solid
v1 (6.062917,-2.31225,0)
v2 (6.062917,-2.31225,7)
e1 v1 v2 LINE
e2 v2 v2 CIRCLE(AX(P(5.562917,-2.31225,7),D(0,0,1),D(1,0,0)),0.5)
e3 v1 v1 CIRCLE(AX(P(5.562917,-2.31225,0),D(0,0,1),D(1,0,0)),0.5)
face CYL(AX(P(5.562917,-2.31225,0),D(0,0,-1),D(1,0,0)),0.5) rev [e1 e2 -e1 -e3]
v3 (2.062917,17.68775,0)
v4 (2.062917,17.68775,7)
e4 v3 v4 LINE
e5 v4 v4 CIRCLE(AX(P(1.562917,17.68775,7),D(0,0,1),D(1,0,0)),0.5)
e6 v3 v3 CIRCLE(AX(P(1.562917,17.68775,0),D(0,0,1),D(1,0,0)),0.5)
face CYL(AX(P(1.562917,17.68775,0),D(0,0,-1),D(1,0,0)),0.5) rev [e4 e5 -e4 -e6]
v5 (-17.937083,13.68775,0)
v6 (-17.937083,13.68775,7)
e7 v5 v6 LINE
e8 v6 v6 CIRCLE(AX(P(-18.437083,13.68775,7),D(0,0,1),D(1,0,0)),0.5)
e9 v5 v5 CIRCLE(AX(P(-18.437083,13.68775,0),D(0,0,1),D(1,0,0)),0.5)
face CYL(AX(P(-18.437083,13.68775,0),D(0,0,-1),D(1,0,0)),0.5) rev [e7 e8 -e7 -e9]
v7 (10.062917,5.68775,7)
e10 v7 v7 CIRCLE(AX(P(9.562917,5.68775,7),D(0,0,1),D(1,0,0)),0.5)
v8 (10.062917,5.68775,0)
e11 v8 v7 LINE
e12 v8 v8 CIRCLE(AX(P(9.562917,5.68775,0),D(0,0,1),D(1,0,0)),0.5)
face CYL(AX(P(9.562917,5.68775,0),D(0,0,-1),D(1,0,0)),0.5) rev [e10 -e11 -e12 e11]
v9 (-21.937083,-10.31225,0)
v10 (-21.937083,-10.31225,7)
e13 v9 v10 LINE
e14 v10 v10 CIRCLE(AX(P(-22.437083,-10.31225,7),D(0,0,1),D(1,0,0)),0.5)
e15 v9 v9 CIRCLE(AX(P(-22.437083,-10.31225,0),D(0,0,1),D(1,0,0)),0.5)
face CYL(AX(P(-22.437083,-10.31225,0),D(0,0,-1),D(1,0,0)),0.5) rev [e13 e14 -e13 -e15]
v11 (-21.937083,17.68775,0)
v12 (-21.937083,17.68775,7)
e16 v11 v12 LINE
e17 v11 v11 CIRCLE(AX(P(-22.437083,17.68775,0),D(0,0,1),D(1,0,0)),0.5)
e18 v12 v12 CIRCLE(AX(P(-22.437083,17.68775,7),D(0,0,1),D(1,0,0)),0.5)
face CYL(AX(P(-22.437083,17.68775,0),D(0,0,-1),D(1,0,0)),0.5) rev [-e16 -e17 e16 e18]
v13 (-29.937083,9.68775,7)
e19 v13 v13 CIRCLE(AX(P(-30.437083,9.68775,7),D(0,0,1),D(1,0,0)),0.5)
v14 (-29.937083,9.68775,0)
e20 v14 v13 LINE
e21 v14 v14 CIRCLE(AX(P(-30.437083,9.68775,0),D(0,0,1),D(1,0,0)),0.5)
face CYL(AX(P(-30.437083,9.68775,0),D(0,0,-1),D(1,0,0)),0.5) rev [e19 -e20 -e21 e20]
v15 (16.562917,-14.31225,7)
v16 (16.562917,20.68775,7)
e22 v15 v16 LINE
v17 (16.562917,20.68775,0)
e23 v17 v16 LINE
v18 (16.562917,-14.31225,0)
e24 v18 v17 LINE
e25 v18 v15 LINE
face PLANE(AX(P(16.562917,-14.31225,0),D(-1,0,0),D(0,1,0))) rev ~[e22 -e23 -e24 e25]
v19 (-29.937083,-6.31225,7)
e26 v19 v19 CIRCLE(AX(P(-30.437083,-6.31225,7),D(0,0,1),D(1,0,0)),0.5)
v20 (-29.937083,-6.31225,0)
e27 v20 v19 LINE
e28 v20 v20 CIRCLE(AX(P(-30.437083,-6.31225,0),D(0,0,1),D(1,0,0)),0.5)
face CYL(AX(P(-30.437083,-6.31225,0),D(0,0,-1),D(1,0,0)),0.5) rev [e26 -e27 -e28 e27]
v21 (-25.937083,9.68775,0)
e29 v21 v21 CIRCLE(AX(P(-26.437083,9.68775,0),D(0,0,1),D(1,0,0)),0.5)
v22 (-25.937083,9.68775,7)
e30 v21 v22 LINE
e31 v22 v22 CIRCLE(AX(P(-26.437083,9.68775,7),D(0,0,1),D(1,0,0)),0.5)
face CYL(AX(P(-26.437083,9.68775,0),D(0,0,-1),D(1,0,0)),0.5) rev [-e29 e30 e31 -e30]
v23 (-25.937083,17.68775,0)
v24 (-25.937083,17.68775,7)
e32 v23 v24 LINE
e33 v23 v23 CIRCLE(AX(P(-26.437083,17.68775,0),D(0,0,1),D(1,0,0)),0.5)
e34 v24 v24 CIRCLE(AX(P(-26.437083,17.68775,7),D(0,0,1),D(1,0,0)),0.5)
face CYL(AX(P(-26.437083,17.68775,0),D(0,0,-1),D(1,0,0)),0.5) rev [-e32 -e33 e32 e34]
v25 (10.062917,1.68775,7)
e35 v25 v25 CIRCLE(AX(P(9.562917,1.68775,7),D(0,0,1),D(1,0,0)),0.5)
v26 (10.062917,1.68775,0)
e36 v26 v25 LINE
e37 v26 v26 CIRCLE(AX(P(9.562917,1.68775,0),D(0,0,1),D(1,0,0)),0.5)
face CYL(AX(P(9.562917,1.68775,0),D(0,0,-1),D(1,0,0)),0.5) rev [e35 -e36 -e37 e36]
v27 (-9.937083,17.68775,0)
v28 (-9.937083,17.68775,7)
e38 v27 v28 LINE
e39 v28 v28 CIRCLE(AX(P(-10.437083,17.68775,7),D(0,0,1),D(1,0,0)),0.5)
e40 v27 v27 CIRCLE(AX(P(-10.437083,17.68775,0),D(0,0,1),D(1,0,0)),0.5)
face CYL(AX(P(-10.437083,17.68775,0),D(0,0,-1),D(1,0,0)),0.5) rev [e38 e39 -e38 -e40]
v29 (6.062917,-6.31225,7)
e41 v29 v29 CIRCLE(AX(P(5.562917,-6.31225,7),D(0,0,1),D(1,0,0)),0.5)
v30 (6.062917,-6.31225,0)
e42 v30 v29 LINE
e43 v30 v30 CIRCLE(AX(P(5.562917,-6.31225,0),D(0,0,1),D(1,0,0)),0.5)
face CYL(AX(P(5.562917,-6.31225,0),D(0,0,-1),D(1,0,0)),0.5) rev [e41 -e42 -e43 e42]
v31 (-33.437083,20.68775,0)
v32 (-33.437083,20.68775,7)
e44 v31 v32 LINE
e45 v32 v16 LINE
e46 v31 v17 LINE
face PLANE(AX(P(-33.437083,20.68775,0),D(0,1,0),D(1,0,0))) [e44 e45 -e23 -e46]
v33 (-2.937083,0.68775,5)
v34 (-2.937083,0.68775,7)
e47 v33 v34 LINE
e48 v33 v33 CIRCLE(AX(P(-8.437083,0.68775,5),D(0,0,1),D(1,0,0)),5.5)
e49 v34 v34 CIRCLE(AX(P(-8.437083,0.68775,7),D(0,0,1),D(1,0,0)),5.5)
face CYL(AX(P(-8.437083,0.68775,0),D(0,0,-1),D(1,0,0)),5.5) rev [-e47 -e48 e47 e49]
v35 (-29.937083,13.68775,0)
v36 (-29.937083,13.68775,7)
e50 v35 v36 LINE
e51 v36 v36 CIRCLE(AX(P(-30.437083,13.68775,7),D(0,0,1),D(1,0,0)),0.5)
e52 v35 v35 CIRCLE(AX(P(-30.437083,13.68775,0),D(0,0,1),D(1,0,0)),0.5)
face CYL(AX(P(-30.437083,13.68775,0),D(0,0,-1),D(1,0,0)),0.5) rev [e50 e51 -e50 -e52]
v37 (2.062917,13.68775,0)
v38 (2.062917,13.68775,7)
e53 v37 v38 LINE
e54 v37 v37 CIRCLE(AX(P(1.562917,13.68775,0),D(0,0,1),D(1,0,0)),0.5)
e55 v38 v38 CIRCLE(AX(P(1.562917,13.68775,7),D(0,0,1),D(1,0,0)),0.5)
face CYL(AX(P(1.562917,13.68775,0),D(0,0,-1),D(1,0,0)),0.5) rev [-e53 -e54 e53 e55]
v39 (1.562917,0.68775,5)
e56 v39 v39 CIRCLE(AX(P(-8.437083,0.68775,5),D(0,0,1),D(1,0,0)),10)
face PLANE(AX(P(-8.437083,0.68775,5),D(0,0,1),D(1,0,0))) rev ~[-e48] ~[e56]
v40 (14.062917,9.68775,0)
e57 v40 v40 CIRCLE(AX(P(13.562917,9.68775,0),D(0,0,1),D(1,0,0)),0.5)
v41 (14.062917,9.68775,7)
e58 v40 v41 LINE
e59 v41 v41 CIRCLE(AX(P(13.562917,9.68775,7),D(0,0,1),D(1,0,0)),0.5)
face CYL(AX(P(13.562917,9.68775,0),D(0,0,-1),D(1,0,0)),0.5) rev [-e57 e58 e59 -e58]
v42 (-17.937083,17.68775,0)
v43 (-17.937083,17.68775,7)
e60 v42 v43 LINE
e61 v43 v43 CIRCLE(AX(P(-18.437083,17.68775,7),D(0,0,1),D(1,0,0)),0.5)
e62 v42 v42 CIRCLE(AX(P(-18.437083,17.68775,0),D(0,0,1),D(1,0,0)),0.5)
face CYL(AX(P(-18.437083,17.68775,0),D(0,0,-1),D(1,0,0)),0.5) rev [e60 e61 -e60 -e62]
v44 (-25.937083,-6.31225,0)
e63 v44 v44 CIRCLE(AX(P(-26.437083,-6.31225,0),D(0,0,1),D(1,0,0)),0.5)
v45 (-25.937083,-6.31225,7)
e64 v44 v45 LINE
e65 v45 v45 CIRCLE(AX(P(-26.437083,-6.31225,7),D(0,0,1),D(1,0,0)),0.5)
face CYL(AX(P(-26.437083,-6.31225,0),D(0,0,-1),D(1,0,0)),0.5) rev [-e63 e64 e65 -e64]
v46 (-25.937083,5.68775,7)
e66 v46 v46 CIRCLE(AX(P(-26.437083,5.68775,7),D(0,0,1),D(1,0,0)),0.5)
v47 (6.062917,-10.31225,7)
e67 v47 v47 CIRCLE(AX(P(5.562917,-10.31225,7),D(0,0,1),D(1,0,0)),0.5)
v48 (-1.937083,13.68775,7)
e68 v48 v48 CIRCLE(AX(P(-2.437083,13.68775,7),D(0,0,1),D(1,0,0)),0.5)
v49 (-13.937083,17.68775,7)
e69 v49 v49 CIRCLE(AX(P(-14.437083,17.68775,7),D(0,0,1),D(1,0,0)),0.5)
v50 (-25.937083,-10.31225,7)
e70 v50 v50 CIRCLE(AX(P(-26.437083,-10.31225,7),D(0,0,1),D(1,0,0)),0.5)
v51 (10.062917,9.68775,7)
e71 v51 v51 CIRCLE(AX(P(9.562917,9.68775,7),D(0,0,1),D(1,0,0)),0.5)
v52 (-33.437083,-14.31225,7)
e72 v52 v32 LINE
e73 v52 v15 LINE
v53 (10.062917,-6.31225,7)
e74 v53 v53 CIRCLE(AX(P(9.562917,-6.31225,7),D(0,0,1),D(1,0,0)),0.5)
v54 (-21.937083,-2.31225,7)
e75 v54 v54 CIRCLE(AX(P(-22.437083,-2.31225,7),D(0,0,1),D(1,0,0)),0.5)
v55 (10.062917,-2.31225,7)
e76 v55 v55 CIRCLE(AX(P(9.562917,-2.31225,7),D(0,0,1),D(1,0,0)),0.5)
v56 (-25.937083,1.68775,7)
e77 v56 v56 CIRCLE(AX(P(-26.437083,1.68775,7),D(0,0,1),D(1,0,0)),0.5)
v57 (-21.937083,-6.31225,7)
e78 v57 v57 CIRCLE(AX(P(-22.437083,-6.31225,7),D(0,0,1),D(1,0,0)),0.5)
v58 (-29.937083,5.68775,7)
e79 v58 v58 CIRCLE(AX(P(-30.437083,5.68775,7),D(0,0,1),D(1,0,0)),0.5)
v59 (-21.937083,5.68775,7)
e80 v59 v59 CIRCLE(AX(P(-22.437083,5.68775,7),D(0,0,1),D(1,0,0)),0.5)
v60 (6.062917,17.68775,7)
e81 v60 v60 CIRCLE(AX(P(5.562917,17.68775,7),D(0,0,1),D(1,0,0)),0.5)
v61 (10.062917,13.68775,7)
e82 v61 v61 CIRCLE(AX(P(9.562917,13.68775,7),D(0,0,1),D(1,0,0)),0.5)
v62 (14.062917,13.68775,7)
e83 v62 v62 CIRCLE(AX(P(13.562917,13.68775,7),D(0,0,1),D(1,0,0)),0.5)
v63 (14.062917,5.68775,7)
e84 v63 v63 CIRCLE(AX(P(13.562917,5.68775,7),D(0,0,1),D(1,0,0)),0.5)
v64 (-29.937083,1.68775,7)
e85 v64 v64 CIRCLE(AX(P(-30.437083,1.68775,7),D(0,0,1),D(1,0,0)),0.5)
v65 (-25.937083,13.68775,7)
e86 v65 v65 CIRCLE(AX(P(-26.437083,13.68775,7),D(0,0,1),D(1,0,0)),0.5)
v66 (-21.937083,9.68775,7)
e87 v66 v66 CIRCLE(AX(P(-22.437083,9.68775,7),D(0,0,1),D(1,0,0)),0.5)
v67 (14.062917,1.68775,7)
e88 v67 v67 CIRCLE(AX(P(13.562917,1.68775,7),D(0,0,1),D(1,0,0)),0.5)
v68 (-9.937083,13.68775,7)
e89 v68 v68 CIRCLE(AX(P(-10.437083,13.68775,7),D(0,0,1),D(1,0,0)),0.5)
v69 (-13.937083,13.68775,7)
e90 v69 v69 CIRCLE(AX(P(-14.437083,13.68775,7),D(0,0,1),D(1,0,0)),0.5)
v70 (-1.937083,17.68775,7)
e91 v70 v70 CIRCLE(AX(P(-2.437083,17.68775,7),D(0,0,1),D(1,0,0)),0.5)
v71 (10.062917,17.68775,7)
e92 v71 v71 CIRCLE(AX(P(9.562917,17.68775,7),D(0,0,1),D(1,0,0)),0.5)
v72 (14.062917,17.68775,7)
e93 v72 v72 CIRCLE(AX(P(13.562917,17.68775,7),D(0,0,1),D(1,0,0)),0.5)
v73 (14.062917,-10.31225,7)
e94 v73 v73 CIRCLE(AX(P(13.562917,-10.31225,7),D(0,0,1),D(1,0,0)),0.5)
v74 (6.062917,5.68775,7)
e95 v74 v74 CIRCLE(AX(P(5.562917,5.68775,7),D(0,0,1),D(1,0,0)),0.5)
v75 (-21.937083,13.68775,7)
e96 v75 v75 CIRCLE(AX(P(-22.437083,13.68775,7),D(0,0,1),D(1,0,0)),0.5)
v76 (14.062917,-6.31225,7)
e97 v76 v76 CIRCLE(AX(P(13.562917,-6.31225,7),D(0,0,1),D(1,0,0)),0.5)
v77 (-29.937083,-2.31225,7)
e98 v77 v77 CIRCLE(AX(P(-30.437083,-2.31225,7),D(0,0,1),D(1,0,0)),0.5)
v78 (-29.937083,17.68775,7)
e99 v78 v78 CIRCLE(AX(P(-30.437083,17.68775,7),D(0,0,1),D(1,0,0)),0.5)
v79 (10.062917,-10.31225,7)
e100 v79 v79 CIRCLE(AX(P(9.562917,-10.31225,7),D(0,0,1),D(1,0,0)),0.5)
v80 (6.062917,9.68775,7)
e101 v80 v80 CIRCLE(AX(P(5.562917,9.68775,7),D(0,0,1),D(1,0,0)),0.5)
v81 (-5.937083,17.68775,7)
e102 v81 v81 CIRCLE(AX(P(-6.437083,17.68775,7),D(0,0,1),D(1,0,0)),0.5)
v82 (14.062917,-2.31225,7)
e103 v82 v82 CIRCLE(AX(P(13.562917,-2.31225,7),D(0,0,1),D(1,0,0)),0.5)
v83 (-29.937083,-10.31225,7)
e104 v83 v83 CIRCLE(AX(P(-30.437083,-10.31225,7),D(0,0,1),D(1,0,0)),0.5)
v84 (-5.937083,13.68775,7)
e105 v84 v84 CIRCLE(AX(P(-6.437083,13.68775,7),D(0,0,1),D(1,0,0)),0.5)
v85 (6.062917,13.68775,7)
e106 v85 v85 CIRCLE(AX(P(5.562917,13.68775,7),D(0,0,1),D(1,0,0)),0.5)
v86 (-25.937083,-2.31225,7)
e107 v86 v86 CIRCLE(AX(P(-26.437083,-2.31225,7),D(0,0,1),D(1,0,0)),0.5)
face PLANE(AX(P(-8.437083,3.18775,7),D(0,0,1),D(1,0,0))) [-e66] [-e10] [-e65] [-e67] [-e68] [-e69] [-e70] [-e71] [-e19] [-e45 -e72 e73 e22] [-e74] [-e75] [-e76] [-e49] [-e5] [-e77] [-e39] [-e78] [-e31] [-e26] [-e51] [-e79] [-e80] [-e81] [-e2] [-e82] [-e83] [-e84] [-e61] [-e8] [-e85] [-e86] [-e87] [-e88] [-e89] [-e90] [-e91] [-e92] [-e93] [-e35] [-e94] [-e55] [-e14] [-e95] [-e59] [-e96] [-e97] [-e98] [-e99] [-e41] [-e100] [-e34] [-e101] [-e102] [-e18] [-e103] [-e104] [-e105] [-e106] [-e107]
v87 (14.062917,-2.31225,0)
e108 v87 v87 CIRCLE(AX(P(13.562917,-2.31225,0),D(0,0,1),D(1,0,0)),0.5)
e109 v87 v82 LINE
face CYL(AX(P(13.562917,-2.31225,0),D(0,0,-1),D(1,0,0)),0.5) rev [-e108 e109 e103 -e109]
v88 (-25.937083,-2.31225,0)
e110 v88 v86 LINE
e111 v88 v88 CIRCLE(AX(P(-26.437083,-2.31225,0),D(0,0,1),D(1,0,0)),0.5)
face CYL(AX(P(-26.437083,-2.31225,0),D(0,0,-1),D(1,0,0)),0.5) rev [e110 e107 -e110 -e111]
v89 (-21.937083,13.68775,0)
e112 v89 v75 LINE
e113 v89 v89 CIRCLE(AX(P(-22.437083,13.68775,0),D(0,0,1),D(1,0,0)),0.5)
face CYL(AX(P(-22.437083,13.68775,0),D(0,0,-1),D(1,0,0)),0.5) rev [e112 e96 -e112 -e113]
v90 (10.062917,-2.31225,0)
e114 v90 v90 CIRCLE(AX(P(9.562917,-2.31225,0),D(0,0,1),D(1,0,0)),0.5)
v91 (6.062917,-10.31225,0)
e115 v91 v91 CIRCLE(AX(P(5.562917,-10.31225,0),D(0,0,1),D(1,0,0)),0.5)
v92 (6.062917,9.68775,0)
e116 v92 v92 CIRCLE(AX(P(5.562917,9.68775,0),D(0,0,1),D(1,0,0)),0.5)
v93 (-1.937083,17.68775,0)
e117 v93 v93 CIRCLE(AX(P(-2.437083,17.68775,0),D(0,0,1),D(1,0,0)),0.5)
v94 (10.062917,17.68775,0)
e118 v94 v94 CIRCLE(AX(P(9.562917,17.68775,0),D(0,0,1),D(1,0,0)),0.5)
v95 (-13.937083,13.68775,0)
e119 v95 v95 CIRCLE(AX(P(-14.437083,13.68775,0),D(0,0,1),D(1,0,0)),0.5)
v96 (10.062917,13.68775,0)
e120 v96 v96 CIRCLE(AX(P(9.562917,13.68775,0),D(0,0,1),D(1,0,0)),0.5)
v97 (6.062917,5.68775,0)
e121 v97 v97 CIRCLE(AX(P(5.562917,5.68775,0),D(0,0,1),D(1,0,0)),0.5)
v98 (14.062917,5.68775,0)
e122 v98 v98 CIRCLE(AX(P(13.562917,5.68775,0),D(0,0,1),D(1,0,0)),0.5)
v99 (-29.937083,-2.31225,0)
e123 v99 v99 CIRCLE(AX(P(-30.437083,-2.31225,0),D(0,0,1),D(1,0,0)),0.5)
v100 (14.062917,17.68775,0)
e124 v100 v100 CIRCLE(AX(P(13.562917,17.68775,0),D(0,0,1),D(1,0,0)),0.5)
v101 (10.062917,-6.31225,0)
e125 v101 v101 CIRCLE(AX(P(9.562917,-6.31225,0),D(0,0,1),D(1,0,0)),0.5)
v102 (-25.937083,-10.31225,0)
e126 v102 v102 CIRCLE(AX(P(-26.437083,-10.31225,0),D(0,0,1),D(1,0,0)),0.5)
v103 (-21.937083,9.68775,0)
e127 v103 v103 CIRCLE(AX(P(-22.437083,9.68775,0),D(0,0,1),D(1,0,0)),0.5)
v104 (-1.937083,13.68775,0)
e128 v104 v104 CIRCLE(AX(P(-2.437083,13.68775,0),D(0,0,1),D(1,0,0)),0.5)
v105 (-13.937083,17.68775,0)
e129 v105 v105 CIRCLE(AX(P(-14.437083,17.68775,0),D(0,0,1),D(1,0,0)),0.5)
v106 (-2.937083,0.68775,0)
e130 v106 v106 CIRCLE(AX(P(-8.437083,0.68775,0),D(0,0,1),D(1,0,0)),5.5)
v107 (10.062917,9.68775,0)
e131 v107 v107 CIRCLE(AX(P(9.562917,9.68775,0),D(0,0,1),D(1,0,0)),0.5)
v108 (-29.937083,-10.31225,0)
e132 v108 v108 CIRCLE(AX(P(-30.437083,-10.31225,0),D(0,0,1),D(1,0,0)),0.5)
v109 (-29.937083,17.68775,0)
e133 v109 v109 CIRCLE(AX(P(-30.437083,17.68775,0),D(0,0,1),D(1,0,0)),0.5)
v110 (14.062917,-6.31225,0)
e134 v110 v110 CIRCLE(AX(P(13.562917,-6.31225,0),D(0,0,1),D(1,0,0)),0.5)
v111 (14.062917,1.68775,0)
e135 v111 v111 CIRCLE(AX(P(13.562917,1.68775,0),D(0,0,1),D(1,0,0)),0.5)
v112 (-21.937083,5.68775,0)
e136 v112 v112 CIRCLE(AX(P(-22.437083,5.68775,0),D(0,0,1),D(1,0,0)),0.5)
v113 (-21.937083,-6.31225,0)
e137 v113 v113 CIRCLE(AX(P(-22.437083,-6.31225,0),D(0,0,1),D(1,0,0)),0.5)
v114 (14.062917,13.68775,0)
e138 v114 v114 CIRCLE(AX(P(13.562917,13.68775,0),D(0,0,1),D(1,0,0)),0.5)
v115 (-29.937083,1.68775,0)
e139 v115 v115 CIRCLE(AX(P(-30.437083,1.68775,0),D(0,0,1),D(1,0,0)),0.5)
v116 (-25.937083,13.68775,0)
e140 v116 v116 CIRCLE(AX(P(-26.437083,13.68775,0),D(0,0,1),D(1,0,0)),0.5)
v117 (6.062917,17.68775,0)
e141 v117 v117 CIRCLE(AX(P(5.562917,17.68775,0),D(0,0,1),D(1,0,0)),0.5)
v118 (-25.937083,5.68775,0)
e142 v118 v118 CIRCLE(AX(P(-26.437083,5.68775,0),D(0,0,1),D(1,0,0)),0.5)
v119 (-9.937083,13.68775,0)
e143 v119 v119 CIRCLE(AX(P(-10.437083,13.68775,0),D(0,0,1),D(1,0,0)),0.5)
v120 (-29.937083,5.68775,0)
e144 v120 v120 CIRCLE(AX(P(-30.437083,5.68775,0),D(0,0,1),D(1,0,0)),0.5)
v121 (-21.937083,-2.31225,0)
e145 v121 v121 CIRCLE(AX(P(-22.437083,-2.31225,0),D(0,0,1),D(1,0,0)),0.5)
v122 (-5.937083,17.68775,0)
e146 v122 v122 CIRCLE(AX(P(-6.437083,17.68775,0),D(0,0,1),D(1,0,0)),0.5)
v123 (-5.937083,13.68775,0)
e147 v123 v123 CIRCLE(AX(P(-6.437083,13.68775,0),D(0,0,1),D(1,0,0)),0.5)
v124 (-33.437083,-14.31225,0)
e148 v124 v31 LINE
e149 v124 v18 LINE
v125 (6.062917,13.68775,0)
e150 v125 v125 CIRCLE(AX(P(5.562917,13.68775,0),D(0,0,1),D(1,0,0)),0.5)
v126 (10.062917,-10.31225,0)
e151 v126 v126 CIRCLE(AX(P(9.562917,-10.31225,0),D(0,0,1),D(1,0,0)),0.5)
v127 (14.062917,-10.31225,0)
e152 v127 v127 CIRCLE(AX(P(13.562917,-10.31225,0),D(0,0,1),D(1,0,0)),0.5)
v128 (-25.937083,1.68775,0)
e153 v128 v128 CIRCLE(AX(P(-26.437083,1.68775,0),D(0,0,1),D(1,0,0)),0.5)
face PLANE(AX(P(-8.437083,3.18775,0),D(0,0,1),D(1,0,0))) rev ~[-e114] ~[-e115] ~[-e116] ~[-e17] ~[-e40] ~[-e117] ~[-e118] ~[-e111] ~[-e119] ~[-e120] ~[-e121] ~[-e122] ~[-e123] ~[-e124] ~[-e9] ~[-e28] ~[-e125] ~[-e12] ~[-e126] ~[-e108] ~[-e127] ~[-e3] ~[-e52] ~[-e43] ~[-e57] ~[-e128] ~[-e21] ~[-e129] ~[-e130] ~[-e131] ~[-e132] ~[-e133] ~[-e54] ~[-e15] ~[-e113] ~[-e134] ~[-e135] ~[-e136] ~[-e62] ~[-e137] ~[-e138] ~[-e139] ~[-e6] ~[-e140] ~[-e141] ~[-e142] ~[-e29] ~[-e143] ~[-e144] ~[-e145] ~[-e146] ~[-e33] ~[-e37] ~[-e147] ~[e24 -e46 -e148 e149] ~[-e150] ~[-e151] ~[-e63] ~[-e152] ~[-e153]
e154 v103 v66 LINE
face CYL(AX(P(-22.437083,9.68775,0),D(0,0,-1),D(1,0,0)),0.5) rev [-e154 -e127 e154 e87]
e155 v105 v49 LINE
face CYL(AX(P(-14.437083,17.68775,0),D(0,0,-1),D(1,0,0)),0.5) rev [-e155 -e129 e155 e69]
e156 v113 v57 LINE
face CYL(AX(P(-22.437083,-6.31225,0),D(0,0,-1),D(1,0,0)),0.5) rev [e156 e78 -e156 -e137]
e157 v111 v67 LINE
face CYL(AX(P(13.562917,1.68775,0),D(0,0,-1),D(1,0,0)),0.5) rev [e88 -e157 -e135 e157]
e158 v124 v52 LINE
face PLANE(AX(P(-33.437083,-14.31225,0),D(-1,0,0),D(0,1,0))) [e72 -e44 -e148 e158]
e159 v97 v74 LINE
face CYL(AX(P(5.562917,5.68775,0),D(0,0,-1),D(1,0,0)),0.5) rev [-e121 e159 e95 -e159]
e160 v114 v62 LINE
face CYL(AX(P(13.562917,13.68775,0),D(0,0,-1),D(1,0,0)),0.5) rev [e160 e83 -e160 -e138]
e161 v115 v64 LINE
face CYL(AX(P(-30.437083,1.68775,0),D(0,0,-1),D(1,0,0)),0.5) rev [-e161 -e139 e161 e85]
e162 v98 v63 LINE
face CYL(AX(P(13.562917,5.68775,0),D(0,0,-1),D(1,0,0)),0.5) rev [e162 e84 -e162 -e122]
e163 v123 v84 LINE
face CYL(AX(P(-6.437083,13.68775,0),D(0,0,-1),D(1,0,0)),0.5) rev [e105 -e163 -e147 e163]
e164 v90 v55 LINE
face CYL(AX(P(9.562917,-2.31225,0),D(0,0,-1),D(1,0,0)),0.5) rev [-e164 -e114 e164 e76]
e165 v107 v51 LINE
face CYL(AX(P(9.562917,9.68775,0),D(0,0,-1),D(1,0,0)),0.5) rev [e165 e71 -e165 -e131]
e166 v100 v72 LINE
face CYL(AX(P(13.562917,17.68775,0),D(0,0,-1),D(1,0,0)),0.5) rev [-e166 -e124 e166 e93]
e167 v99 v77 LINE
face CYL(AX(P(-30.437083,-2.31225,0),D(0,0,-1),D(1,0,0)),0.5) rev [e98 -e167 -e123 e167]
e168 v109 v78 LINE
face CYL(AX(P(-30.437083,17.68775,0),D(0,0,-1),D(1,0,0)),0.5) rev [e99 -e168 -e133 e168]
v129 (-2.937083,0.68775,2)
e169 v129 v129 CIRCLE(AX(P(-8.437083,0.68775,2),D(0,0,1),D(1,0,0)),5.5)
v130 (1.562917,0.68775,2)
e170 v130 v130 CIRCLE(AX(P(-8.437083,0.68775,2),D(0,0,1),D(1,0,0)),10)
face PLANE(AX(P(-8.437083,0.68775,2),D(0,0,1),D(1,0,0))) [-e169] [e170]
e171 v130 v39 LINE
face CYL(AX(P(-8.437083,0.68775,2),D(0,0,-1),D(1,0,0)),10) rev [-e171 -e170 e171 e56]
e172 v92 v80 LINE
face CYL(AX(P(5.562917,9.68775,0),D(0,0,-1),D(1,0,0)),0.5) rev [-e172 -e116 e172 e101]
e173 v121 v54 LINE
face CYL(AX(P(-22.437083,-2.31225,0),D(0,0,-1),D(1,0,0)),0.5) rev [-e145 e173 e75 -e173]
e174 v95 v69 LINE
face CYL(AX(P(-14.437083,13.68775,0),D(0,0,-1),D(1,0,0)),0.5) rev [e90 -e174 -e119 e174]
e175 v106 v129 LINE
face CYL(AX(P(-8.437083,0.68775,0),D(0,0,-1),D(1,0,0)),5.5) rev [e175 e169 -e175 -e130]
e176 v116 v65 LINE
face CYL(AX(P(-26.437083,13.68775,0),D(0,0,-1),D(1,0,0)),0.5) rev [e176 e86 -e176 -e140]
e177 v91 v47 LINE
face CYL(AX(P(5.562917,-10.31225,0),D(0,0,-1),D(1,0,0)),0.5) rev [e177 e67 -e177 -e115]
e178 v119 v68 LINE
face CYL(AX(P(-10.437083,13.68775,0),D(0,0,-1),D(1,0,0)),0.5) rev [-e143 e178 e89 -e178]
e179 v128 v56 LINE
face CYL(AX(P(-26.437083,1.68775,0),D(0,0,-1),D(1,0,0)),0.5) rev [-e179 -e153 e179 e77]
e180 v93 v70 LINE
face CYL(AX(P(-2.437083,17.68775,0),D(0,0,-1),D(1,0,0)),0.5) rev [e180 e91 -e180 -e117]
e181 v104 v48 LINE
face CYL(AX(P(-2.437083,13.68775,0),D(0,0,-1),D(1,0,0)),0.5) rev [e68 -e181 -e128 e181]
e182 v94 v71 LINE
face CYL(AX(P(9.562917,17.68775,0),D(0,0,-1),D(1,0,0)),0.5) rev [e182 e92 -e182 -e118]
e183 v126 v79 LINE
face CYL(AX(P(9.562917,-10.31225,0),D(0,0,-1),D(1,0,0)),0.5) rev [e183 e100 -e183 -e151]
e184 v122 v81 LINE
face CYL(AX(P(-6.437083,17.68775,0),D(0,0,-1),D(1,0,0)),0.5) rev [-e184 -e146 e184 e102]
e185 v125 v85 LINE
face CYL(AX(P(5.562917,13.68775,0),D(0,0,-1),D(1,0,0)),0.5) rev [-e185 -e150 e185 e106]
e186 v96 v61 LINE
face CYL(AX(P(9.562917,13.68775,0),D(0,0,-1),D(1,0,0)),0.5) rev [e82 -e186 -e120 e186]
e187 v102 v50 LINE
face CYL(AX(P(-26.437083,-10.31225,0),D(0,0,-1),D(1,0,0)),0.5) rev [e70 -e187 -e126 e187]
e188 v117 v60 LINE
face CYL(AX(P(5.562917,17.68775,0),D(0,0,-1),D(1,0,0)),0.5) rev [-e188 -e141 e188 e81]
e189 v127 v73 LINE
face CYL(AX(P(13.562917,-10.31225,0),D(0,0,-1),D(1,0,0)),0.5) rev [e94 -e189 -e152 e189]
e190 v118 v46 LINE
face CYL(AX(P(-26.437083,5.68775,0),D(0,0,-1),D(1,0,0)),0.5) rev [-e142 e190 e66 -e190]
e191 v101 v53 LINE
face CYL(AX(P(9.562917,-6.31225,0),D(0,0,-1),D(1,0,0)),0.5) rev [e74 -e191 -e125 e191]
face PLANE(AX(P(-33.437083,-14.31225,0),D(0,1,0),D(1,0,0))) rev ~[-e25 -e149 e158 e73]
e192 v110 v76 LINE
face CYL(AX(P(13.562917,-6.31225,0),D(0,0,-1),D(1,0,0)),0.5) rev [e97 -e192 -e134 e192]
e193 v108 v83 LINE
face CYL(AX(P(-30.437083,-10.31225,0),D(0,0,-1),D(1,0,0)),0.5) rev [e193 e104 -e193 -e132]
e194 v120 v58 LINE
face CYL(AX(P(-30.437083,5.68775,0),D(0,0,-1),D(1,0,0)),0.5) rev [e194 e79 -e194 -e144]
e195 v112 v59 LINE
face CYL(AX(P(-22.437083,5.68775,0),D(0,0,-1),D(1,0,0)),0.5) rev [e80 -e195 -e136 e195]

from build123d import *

# Parameters (mm, degrees)
F0_W     = 50
F0_H     = 35
F0_R     = 0.5
F0_R_2   = 10
F0_R_3   = 5.5
F1_DEPTH = 7
F2_START = 2
F2_DEPTH = 3


with BuildPart() as f1:
    # F0 (on Top) → F1 (new body)
    with BuildSketch(Plane.XY):
        with Locations((-8.4370832344, 3.1877499125)):
            Rectangle(F0_W, F0_H)
        with Locations((-30.4370832344, -10.3122500875)):
            Circle(F0_R, mode=Mode.SUBTRACT)
        with Locations((-26.4370832344, -10.3122500875)):
            Circle(F0_R, mode=Mode.SUBTRACT)
        with Locations((-22.4370832344, -10.3122500875)):
            Circle(F0_R, mode=Mode.SUBTRACT)
        with Locations((-30.4370832344, -6.3122500875)):
            Circle(F0_R, mode=Mode.SUBTRACT)
        with Locations((-26.4370832344, -6.3122500875)):
            Circle(F0_R, mode=Mode.SUBTRACT)
        with Locations((-22.4370832344, -6.3122500875)):
            Circle(F0_R, mode=Mode.SUBTRACT)
        with Locations((-30.4370832344, -2.3122500875)):
            Circle(F0_R, mode=Mode.SUBTRACT)
        with Locations((-26.4370832344, -2.3122500875)):
            Circle(F0_R, mode=Mode.SUBTRACT)
        with Locations((-22.4370832344, -2.3122500875)):
            Circle(F0_R, mode=Mode.SUBTRACT)
        with Locations((-30.4370832344, 1.6877499125)):
            Circle(F0_R, mode=Mode.SUBTRACT)
        with Locations((-26.4370832344, 1.6877499125)):
            Circle(F0_R, mode=Mode.SUBTRACT)
        with Locations((5.5629167656, -10.3122500875)):
            Circle(F0_R, mode=Mode.SUBTRACT)
        with Locations((9.5629167656, -10.3122500875)):
            Circle(F0_R, mode=Mode.SUBTRACT)
        with Locations((13.5629167656, -10.3122500875)):
            Circle(F0_R, mode=Mode.SUBTRACT)
        with Locations((5.5629167656, -6.3122500875)):
            Circle(F0_R, mode=Mode.SUBTRACT)
        with Locations((9.5629167656, -6.3122500875)):
            Circle(F0_R, mode=Mode.SUBTRACT)
        with Locations((13.5629167656, -6.3122500875)):
            Circle(F0_R, mode=Mode.SUBTRACT)
        with Locations((-8.4370832344, 0.6877499125)):
            Circle(F0_R_2, mode=Mode.SUBTRACT)
        with Locations((5.5629167656, -2.3122500875)):
            Circle(F0_R, mode=Mode.SUBTRACT)
        with Locations((9.5629167656, -2.3122500875)):
            Circle(F0_R, mode=Mode.SUBTRACT)
        with Locations((13.5629167656, -2.3122500875)):
            Circle(F0_R, mode=Mode.SUBTRACT)
        with Locations((9.5629167656, 1.6877499125)):
            Circle(F0_R, mode=Mode.SUBTRACT)
        with Locations((13.5629167656, 1.6877499125)):
            Circle(F0_R, mode=Mode.SUBTRACT)
        with Locations((-30.4370832344, 5.6877499125)):
            Circle(F0_R, mode=Mode.SUBTRACT)
        with Locations((-26.4370832344, 5.6877499125)):
            Circle(F0_R, mode=Mode.SUBTRACT)
        with Locations((-22.4370832344, 5.6877499125)):
            Circle(F0_R, mode=Mode.SUBTRACT)
        with Locations((-30.4370832344, 9.6877499125)):
            Circle(F0_R, mode=Mode.SUBTRACT)
        with Locations((-26.4370832344, 9.6877499125)):
            Circle(F0_R, mode=Mode.SUBTRACT)
        with Locations((-22.4370832344, 9.6877499125)):
            Circle(F0_R, mode=Mode.SUBTRACT)
        with Locations((-30.4370832344, 13.6877499125)):
            Circle(F0_R, mode=Mode.SUBTRACT)
        with Locations((-26.4370832344, 13.6877499125)):
            Circle(F0_R, mode=Mode.SUBTRACT)
        with Locations((-22.4370832344, 13.6877499125)):
            Circle(F0_R, mode=Mode.SUBTRACT)
        with Locations((-30.4370832344, 17.6877499125)):
            Circle(F0_R, mode=Mode.SUBTRACT)
        with Locations((-26.4370832344, 17.6877499125)):
            Circle(F0_R, mode=Mode.SUBTRACT)
        with Locations((-22.4370832344, 17.6877499125)):
            Circle(F0_R, mode=Mode.SUBTRACT)
        with Locations((-18.4370832344, 13.6877499125)):
            Circle(F0_R, mode=Mode.SUBTRACT)
        with Locations((-14.4370832344, 13.6877499125)):
            Circle(F0_R, mode=Mode.SUBTRACT)
        with Locations((-10.4370832344, 13.6877499125)):
            Circle(F0_R, mode=Mode.SUBTRACT)
        with Locations((-18.4370832344, 17.6877499125)):
            Circle(F0_R, mode=Mode.SUBTRACT)
        with Locations((-14.4370832344, 17.6877499125)):
            Circle(F0_R, mode=Mode.SUBTRACT)
        with Locations((-10.4370832344, 17.6877499125)):
            Circle(F0_R, mode=Mode.SUBTRACT)
        with Locations((5.5629167656, 5.6877499125)):
            Circle(F0_R, mode=Mode.SUBTRACT)
        with Locations((9.5629167656, 5.6877499125)):
            Circle(F0_R, mode=Mode.SUBTRACT)
        with Locations((13.5629167656, 5.6877499125)):
            Circle(F0_R, mode=Mode.SUBTRACT)
        with Locations((5.5629167656, 9.6877499125)):
            Circle(F0_R, mode=Mode.SUBTRACT)
        with Locations((9.5629167656, 9.6877499125)):
            Circle(F0_R, mode=Mode.SUBTRACT)
        with Locations((13.5629167656, 9.6877499125)):
            Circle(F0_R, mode=Mode.SUBTRACT)
        with Locations((-6.4370832344, 13.6877499125)):
            Circle(F0_R, mode=Mode.SUBTRACT)
        with Locations((-2.4370832344, 13.6877499125)):
            Circle(F0_R, mode=Mode.SUBTRACT)
        with Locations((1.5629167656, 13.6877499125)):
            Circle(F0_R, mode=Mode.SUBTRACT)
        with Locations((-6.4370832344, 17.6877499125)):
            Circle(F0_R, mode=Mode.SUBTRACT)
        with Locations((-2.4370832344, 17.6877499125)):
            Circle(F0_R, mode=Mode.SUBTRACT)
        with Locations((1.5629167656, 17.6877499125)):
            Circle(F0_R, mode=Mode.SUBTRACT)
        with Locations((5.5629167656, 13.6877499125)):
            Circle(F0_R, mode=Mode.SUBTRACT)
        with Locations((9.5629167656, 13.6877499125)):
            Circle(F0_R, mode=Mode.SUBTRACT)
        with Locations((13.5629167656, 13.6877499125)):
            Circle(F0_R, mode=Mode.SUBTRACT)
        with Locations((5.5629167656, 17.6877499125)):
            Circle(F0_R, mode=Mode.SUBTRACT)
        with Locations((9.5629167656, 17.6877499125)):
            Circle(F0_R, mode=Mode.SUBTRACT)
        with Locations((13.5629167656, 17.6877499125)):
            Circle(F0_R, mode=Mode.SUBTRACT)
        with Locations((-8.4370832344, 0.6877499125)):
            Circle(F0_R_2)
        with Locations((-8.4370832344, 0.6877499125)):
            Circle(F0_R_3, mode=Mode.SUBTRACT)
    extrude(amount=F1_DEPTH)


with BuildPart() as f2:
    # F0 (on Top) → F2 (new body)
    with BuildSketch(Plane.XY.offset(F2_START)):
        with Locations((-8.4370832344, 0.6877499125)):
            Circle(F0_R_2)
        with Locations((-8.4370832344, 0.6877499125)):
            Circle(F0_R_3, mode=Mode.SUBTRACT)
    extrude(amount=F2_DEPTH)


with BuildPart() as f1_1:
    add(f1.part)

    # F3: cut F2
    add(f2.part, mode=Mode.SUBTRACT)


solid = f1_1.part
